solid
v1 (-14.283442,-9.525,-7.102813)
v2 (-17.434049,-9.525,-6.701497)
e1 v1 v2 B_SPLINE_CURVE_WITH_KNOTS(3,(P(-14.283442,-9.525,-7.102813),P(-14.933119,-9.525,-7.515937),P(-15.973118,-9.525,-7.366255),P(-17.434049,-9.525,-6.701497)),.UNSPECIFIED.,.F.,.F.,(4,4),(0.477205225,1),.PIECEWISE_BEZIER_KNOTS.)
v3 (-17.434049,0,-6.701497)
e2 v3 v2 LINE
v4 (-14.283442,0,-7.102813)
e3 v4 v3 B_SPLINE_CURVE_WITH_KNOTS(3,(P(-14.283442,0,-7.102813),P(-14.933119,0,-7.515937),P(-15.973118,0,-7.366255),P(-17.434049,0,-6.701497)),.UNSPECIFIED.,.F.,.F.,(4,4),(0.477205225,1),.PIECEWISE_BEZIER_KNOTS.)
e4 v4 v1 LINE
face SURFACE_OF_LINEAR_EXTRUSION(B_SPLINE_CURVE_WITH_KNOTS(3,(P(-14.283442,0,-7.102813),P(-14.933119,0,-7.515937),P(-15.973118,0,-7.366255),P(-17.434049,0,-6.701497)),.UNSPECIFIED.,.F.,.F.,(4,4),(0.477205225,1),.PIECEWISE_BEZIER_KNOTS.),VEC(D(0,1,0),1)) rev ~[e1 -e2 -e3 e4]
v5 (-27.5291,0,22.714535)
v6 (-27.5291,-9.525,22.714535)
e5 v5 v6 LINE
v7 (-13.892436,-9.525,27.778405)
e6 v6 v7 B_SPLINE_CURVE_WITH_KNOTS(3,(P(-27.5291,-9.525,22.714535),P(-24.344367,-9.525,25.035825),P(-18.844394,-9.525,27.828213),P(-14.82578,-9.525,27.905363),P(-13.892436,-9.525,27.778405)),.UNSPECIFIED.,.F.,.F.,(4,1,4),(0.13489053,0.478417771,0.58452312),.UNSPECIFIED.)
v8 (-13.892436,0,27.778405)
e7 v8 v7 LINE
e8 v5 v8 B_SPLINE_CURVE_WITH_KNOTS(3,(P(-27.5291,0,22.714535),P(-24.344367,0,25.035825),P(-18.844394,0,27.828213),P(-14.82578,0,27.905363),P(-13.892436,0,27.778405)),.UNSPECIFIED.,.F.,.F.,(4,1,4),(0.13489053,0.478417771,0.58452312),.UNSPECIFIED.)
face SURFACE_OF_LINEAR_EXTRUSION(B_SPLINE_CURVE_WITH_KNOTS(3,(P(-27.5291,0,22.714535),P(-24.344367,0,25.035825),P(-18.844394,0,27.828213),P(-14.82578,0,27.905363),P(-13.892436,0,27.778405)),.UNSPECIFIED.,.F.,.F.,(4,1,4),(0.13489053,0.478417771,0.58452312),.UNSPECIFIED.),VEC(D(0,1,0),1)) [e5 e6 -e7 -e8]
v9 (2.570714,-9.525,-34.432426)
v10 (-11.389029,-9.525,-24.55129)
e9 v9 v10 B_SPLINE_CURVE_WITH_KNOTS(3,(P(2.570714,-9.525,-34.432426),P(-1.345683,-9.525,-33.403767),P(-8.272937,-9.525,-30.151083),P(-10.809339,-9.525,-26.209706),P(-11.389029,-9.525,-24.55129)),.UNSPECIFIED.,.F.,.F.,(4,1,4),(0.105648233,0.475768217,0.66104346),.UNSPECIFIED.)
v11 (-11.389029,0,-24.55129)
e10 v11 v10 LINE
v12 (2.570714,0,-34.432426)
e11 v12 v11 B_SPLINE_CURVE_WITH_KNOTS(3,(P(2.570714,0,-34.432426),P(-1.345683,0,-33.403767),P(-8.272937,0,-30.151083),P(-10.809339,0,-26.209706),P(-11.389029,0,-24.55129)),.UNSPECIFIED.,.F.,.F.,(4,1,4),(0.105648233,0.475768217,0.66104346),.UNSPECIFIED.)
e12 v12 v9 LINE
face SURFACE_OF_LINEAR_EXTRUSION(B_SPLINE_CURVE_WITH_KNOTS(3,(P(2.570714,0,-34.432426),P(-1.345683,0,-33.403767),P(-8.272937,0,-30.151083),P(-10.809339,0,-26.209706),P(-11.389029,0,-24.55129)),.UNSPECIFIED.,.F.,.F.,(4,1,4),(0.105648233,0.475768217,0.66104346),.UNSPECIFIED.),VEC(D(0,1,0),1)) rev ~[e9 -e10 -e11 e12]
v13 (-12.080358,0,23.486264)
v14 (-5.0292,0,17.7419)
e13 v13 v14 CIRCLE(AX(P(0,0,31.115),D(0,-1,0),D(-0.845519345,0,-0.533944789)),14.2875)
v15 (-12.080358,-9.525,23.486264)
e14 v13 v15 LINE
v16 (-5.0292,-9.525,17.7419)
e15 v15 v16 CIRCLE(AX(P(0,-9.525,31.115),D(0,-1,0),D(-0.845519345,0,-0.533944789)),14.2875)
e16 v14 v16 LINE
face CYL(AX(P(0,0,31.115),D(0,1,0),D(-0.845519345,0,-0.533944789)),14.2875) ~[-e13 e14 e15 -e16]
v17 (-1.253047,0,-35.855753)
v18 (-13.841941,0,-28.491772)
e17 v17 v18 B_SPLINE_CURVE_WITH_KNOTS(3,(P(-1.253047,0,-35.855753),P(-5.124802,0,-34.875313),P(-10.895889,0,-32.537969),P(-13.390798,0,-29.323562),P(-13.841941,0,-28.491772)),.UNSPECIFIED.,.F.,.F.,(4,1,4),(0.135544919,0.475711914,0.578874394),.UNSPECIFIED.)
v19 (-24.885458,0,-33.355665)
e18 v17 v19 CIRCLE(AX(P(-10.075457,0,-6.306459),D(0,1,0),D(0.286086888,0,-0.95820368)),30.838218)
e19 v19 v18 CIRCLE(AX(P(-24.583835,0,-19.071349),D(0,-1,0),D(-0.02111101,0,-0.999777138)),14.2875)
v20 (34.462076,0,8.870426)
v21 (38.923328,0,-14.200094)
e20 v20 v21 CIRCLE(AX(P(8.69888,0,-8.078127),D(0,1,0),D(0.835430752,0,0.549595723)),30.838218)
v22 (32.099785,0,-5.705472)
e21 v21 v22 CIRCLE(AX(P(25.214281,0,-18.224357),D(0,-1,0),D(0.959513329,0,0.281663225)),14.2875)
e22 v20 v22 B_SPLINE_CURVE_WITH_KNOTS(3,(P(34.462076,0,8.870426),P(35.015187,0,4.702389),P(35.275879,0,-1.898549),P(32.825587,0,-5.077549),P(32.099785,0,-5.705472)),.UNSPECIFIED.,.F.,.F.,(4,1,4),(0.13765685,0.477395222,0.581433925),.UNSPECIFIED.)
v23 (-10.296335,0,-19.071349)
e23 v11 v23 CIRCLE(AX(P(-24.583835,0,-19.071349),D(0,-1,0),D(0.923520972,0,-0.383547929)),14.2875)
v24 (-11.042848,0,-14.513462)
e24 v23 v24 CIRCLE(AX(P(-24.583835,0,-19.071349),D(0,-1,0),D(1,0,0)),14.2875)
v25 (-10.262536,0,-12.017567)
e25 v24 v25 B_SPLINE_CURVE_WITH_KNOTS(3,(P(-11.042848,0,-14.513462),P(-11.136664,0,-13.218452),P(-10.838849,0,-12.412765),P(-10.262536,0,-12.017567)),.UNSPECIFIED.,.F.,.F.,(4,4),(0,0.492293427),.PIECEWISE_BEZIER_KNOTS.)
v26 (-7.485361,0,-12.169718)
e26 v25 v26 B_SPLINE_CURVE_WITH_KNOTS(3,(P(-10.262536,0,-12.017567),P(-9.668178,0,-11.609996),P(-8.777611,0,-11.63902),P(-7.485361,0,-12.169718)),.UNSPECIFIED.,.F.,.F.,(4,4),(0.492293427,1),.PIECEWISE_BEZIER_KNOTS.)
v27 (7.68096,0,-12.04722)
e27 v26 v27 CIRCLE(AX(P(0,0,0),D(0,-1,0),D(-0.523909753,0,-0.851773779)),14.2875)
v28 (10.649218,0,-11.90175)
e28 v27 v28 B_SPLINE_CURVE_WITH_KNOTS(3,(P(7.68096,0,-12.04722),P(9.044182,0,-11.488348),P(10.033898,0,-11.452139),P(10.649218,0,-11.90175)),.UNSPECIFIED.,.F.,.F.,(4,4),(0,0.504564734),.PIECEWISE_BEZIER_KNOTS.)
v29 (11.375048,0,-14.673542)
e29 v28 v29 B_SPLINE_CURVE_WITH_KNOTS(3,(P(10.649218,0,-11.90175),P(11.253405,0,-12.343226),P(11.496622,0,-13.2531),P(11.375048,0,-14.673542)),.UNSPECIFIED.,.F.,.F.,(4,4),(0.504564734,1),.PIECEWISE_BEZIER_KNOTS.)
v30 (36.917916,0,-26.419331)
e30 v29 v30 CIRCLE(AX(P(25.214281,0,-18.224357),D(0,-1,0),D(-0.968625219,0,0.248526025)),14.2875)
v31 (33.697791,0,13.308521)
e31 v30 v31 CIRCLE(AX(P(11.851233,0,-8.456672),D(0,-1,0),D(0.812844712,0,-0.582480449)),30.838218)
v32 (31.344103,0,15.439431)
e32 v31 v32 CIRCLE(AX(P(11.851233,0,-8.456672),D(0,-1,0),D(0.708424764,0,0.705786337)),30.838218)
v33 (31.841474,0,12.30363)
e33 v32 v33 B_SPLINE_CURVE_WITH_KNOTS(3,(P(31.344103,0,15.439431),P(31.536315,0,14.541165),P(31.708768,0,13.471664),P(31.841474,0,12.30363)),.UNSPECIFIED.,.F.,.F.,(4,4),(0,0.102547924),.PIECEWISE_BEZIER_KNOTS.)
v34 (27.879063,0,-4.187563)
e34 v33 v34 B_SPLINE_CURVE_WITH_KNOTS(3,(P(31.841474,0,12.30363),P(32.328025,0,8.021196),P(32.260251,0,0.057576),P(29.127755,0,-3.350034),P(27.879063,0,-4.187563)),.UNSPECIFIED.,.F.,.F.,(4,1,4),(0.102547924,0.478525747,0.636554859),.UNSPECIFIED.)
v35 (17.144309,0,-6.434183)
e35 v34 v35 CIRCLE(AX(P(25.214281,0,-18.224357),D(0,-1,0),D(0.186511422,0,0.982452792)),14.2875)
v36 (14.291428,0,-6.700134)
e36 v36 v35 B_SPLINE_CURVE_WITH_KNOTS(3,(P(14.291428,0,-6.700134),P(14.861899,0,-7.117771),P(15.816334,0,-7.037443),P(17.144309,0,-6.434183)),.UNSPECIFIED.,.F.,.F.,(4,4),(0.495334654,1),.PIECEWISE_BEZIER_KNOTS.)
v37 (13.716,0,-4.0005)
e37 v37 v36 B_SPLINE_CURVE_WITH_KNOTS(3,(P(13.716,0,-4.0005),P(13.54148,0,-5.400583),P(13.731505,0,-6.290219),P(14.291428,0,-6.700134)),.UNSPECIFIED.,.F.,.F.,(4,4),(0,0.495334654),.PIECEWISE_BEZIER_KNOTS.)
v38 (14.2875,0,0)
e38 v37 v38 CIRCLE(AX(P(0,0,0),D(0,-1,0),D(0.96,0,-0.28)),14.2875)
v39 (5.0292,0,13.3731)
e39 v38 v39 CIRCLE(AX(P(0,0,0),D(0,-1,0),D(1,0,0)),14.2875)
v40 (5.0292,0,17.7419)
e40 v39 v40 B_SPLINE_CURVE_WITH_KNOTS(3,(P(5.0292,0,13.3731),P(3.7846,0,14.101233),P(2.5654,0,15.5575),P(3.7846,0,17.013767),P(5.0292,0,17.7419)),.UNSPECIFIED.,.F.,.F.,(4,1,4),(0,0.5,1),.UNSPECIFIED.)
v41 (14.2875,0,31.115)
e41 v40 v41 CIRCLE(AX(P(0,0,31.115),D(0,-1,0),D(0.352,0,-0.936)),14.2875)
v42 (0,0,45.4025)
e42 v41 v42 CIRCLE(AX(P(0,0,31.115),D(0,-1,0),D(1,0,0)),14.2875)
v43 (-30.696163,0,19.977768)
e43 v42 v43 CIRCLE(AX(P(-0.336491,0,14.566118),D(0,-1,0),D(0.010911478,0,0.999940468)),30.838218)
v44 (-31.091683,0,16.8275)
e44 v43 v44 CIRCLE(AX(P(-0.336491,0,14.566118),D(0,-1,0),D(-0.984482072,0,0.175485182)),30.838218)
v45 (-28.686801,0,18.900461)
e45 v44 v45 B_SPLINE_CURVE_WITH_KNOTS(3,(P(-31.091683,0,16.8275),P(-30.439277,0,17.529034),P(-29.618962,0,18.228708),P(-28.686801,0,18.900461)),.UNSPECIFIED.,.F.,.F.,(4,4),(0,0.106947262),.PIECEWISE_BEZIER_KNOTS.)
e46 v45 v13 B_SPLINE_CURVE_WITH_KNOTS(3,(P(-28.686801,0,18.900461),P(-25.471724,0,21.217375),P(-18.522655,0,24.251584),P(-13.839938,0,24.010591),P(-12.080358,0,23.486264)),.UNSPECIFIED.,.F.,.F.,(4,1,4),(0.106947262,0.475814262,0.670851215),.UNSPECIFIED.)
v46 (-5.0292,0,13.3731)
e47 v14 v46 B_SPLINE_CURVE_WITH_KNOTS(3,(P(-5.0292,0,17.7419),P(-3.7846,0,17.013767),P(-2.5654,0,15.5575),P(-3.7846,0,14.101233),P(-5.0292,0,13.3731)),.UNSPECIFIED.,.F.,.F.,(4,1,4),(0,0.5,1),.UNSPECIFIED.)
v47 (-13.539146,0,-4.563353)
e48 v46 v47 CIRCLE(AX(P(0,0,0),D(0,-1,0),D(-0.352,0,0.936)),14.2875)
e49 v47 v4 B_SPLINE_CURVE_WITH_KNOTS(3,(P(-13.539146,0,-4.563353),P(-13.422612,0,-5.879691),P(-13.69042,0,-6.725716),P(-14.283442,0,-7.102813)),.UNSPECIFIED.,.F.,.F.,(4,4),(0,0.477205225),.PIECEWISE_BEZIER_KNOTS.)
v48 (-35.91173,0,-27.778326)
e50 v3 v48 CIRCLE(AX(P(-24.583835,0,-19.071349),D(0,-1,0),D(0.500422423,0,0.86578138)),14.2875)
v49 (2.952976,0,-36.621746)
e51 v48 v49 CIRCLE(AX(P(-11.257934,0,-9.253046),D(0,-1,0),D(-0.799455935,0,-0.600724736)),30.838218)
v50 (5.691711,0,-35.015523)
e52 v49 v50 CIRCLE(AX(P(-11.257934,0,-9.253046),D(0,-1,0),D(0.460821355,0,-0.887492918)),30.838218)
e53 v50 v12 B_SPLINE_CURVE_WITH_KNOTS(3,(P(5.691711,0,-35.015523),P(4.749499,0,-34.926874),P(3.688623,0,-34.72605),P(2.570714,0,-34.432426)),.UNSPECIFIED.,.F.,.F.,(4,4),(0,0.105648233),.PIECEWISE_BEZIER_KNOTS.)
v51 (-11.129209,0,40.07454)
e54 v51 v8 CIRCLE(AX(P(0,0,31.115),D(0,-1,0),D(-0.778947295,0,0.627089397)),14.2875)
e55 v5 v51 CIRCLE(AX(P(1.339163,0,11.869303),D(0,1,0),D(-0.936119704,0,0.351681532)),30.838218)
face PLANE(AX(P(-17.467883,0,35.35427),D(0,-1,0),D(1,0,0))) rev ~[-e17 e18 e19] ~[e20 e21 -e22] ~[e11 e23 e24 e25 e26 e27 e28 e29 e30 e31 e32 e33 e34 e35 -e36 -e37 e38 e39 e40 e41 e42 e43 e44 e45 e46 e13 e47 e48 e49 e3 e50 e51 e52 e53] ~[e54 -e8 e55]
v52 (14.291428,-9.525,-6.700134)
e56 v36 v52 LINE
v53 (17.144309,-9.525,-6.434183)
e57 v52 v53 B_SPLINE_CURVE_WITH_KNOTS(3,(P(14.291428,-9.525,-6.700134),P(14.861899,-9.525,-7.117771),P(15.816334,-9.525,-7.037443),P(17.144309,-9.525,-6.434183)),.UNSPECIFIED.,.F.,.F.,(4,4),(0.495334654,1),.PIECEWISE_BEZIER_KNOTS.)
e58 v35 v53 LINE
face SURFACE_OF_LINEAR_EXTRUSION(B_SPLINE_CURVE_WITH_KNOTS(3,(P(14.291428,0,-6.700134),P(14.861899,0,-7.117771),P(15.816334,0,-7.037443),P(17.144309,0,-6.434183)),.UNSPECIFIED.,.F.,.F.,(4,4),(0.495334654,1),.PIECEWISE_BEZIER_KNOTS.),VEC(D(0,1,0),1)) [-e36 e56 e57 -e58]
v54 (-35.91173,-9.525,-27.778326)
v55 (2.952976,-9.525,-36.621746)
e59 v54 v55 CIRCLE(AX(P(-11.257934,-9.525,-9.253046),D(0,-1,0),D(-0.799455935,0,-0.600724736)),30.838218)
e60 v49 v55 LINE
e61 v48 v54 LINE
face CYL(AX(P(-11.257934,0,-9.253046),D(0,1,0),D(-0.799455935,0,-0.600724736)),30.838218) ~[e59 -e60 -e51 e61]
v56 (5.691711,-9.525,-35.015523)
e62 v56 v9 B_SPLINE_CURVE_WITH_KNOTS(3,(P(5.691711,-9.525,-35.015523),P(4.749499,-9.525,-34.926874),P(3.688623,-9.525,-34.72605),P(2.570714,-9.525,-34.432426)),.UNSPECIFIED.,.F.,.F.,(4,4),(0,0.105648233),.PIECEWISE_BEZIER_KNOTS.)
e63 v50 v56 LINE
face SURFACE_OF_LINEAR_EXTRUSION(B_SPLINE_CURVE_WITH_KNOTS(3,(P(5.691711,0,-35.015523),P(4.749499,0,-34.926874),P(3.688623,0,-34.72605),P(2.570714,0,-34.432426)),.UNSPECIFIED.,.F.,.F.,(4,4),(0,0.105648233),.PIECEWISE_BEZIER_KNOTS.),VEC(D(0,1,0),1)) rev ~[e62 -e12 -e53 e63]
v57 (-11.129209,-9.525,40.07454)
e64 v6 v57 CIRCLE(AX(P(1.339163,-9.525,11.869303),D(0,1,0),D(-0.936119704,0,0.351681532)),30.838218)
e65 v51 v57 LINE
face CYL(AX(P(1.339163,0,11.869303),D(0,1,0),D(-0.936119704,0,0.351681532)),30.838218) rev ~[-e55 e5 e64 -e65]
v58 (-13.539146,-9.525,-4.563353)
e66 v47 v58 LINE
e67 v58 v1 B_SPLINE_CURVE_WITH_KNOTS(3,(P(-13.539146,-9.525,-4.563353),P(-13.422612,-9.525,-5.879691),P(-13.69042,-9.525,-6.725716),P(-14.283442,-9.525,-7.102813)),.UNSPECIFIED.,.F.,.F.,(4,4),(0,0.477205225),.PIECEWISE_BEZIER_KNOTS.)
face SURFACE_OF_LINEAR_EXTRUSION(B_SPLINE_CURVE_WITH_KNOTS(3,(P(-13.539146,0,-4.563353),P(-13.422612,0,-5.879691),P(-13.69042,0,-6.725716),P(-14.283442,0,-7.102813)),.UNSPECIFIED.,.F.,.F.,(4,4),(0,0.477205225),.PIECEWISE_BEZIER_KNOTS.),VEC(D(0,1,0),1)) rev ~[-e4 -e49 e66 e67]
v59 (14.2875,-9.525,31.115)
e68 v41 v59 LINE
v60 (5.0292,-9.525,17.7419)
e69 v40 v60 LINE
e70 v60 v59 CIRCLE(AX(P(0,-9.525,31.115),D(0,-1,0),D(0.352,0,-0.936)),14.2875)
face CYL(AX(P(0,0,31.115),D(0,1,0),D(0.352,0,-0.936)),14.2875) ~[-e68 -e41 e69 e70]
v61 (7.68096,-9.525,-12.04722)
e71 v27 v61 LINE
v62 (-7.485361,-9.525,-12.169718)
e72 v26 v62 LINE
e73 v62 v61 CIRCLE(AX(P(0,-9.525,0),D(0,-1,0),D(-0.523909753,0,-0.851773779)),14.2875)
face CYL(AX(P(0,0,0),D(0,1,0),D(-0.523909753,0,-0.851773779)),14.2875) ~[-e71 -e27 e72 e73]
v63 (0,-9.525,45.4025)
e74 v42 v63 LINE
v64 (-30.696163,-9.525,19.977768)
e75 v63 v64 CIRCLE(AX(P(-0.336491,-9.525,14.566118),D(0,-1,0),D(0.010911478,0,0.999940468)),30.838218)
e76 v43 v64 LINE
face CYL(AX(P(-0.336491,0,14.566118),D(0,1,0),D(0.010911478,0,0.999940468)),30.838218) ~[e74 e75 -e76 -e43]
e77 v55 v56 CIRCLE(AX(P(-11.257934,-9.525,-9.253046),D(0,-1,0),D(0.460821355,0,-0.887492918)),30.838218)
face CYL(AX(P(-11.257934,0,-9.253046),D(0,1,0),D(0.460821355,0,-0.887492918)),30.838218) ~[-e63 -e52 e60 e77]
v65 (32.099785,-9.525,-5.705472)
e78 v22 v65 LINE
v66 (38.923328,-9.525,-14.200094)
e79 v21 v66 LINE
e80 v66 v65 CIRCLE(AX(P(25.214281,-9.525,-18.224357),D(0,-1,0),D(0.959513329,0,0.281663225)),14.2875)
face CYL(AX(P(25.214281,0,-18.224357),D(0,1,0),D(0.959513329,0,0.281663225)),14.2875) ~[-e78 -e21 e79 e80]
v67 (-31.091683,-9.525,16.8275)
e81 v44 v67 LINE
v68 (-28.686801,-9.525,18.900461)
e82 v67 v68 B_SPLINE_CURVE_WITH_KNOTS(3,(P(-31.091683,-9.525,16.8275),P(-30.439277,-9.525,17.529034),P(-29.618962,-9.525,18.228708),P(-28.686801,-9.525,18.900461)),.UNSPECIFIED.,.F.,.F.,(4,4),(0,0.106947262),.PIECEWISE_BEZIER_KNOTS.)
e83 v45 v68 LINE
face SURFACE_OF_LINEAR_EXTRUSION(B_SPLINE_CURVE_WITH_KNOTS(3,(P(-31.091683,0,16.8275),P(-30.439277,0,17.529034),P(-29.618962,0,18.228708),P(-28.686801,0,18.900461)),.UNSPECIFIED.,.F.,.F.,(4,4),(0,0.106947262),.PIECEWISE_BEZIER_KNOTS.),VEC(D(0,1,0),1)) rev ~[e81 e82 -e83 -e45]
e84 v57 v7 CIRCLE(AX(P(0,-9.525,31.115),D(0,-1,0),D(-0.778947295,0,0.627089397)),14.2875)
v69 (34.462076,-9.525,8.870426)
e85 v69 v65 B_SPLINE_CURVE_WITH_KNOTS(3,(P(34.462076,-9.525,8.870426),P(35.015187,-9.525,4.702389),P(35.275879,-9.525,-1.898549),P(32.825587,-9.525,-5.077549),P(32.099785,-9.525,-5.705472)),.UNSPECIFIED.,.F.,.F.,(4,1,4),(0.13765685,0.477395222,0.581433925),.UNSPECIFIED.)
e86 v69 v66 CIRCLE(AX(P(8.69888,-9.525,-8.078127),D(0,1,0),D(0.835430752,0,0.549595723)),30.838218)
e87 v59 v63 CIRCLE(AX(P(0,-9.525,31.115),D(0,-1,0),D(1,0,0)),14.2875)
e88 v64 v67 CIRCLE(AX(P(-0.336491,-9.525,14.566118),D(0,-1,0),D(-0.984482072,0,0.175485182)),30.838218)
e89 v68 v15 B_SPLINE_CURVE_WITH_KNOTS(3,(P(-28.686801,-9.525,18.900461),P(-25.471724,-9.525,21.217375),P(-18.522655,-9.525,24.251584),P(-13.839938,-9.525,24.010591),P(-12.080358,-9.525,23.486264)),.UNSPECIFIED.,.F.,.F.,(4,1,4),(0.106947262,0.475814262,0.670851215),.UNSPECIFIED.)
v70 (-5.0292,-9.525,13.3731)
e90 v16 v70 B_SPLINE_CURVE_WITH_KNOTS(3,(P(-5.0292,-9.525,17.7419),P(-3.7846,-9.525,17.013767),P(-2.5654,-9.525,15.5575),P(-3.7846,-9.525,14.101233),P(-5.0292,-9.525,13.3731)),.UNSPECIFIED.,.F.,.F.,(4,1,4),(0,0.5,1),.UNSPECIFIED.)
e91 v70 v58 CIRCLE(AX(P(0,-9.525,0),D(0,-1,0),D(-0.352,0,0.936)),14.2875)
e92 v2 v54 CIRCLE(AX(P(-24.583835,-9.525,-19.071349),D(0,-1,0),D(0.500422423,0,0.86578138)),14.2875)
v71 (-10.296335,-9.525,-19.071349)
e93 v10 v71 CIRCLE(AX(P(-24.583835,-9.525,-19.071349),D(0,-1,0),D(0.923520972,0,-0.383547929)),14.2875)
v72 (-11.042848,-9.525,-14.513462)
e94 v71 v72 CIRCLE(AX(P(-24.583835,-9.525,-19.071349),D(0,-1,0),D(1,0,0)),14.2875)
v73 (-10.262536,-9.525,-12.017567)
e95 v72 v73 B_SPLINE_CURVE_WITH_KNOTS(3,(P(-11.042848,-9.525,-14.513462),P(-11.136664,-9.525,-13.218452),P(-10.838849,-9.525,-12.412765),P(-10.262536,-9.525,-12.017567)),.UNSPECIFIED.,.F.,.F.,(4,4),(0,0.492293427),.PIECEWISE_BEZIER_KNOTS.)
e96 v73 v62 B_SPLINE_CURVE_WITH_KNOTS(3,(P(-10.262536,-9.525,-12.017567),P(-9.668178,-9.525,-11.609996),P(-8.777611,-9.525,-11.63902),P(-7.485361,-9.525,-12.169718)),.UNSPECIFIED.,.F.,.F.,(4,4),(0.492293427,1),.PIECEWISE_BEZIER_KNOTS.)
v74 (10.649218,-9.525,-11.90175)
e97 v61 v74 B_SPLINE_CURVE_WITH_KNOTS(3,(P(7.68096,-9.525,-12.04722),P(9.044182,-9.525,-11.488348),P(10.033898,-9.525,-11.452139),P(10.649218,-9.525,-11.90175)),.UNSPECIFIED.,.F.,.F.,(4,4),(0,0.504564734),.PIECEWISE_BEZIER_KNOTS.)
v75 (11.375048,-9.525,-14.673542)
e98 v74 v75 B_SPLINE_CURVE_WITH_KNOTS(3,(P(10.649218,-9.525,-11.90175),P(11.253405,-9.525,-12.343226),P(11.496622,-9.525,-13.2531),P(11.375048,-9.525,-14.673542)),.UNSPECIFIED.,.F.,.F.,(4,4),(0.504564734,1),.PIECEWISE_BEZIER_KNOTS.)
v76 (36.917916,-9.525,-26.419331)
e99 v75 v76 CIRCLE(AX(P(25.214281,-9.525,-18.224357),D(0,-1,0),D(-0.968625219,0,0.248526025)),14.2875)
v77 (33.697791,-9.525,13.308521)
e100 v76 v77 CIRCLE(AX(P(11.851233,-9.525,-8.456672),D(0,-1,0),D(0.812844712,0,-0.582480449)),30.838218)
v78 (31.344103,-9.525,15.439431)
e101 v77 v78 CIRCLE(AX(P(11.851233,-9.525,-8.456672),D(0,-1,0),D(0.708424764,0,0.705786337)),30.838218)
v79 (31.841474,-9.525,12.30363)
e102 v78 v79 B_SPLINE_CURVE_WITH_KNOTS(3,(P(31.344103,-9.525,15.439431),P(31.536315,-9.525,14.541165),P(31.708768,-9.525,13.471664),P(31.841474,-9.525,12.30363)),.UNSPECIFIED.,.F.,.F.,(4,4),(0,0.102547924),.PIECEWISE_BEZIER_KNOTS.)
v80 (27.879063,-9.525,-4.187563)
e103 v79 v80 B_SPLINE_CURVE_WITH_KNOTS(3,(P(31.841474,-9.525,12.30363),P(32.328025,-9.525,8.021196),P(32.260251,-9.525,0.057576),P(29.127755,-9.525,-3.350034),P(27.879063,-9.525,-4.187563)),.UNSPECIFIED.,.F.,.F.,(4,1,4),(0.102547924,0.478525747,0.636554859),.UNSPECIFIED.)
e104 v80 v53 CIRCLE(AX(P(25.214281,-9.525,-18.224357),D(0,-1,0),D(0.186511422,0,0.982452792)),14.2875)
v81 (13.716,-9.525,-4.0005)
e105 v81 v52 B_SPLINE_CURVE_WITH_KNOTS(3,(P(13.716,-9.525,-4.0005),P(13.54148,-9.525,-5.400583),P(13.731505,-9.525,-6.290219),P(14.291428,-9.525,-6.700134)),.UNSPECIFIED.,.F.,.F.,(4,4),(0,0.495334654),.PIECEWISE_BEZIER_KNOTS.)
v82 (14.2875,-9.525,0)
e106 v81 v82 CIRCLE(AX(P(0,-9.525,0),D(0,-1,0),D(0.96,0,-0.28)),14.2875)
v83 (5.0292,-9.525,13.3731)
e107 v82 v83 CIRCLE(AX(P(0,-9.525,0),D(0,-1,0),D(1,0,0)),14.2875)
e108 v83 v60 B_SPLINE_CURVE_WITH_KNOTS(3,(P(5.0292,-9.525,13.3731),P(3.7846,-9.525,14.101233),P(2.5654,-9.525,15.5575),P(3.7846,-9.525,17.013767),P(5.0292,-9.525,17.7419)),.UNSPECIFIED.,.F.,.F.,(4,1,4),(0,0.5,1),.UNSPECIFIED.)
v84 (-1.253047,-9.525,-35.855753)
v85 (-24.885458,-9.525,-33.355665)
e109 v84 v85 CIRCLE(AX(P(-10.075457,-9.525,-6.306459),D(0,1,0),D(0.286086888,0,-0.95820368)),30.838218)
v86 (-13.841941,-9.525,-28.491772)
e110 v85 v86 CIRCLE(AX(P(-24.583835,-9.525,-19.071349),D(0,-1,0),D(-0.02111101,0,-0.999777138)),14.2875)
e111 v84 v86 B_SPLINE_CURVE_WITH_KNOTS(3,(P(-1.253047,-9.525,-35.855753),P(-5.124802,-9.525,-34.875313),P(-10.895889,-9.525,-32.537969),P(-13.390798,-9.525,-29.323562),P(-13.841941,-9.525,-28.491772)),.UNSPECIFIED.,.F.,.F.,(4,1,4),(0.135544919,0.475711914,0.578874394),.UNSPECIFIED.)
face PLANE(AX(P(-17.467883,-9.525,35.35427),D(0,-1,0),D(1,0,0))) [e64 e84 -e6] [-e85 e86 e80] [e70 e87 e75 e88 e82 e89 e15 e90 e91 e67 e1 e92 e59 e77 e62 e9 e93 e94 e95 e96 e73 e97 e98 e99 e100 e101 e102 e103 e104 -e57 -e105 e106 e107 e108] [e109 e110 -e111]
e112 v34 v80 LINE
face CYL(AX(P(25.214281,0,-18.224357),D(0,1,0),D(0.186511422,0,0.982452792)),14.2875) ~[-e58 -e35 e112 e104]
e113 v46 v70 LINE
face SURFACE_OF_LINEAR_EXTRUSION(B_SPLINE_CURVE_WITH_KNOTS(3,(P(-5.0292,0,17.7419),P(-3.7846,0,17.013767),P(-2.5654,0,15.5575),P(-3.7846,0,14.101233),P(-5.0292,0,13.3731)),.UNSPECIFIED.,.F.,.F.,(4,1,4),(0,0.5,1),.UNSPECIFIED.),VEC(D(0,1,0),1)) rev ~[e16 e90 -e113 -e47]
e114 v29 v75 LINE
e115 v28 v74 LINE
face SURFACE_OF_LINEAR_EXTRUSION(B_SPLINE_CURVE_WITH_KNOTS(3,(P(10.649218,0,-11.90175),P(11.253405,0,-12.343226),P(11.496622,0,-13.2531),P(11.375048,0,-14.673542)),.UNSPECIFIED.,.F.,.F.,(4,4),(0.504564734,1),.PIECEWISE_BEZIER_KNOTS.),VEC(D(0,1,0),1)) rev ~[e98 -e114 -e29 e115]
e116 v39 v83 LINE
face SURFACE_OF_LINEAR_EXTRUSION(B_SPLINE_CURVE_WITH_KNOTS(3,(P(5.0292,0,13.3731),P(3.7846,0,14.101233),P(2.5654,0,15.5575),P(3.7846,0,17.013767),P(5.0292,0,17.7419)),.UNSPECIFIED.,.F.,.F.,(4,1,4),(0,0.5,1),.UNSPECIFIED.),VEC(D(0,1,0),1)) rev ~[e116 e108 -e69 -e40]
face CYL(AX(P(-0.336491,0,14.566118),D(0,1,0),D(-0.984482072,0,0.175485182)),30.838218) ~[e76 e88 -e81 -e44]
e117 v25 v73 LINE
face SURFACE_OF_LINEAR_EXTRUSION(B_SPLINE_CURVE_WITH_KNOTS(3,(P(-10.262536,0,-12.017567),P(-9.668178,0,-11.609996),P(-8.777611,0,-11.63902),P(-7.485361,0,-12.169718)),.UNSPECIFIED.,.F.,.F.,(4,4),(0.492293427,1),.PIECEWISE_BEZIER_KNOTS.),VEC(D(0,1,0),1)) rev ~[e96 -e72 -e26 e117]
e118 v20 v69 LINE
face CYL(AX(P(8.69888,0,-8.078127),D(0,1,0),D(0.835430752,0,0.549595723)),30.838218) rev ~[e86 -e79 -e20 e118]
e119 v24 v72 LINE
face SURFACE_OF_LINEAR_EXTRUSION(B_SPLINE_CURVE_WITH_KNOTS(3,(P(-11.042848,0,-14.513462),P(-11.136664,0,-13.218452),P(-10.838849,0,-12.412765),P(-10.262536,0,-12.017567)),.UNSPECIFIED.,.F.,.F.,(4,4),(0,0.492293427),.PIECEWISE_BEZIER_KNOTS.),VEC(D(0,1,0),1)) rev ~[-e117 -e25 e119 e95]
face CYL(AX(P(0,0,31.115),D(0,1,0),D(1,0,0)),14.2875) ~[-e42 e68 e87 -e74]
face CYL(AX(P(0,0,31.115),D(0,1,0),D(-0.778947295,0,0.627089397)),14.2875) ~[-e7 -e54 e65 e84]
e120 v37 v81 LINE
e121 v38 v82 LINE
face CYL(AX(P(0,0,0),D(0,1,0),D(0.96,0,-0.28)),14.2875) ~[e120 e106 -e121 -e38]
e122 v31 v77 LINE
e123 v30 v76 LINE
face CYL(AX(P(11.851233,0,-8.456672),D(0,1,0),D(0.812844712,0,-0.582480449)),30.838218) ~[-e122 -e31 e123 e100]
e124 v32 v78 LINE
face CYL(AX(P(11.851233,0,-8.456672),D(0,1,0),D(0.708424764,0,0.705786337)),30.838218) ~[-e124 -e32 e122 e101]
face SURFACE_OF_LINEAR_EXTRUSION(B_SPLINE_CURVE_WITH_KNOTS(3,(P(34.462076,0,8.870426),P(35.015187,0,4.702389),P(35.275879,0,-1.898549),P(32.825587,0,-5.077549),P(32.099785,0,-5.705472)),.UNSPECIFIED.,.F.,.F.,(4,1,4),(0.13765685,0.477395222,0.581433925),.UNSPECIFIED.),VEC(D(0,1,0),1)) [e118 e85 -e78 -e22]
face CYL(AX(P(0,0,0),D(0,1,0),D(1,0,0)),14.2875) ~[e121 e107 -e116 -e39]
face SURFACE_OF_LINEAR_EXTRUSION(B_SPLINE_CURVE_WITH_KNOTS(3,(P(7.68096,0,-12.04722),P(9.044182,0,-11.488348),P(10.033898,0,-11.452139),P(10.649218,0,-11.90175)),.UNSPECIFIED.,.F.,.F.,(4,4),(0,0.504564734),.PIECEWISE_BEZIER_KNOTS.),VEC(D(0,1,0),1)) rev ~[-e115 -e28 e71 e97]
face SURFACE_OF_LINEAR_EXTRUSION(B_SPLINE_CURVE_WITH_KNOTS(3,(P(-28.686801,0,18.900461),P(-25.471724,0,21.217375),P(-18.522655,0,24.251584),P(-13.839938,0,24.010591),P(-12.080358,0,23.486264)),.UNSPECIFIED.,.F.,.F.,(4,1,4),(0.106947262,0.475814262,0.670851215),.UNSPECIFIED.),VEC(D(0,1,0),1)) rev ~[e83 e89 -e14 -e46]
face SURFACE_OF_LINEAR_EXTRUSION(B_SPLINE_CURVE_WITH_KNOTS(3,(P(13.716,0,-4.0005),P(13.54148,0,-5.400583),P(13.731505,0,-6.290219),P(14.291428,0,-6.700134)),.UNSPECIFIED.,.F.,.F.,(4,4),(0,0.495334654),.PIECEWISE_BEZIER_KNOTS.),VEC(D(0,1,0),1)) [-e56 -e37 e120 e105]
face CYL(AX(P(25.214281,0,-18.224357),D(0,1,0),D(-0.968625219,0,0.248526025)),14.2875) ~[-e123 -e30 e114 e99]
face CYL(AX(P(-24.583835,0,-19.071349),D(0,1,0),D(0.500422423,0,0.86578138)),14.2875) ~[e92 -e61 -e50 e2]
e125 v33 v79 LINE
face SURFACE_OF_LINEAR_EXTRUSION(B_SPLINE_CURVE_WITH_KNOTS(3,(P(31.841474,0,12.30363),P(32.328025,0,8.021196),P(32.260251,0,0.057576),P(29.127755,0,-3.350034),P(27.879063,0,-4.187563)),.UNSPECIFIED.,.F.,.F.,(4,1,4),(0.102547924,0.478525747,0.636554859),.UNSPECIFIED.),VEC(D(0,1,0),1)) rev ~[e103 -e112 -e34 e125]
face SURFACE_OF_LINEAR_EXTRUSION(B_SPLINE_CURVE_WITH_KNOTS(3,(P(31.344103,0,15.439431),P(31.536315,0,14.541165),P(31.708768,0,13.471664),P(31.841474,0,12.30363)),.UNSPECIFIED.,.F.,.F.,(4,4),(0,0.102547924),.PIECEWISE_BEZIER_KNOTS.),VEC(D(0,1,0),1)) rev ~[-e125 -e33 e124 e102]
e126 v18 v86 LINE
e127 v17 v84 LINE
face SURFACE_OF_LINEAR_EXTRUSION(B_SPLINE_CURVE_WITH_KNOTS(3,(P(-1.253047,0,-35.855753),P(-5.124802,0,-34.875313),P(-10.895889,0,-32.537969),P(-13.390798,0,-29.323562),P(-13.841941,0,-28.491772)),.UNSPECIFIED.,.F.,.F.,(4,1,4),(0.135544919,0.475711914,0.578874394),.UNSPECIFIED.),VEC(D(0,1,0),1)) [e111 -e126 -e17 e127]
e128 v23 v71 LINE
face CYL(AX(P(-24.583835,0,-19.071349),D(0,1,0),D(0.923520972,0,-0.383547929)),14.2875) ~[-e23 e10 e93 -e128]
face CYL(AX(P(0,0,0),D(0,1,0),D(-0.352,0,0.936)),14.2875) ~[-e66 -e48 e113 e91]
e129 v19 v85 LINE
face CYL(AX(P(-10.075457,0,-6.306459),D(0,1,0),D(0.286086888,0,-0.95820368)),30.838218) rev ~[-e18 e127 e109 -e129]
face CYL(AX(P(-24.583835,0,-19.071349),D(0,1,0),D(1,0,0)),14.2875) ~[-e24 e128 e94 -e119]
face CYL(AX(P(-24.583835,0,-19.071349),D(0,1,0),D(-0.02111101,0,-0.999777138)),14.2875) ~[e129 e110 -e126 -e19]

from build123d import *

# Parameters (mm, degrees)
F1_DEPTH = 9.525


with BuildPart() as f1:
    # F0 (on Front) → F1 (new body)
    with BuildSketch(Plane.XZ):
        with BuildLine():
            ThreePointArc((-11.129209475, 40.07453976), (-6.1694096933, 44.0018553296), (0, 45.4025))
            ThreePointArc((0, 45.4025), (-20.0075890018, 38.315719416), (-30.6961632928, 19.977768158))
            add(Edge.make_bspline(
                [(-30.6961632928, 19.977768158), (-29.8732969424, 20.8625993593), (-28.7796279343, 21.8030494207), (-27.5291002849, 22.7145349079)],
                knots=[0, 0, 0, 0, 0.1348905301, 0.1348905301, 0.1348905301, 0.1348905301], degree=3))
            ThreePointArc((-27.5291002849, 22.7145349079), (-21.0778351337, 33.046504915), (-11.129209475, 40.07453976))
        make_face()
        with BuildLine():
            add(Edge.make_bspline(
                [(-28.6868006646, 18.9004611224), (-25.471724073, 21.217375219), (-18.5226553299, 24.2515843699), (-13.8399380373, 24.0105914656), (-12.0803576364, 23.4862638251)],
                knots=[0.1069472615, 0.1069472615, 0.1069472615, 0.1069472615, 0.4758142615, 0.6708512149, 0.6708512149, 0.6708512149, 0.6708512149], degree=3))
            ThreePointArc((-12.0803576364, 23.4862638251), (-13.1625273264, 25.5579746599), (-13.8924363743, 27.778404754))
            add(Edge.make_bspline(
                [(-27.5291002849, 22.7145349079), (-24.3443673609, 25.0358253187), (-18.8443936536, 27.8282133181), (-14.8257797974, 27.9053631578), (-13.8924363743, 27.778404754)],
                knots=[0.1348905301, 0.1348905301, 0.1348905301, 0.1348905301, 0.4784177706, 0.5845231195, 0.5845231195, 0.5845231195, 0.5845231195], degree=3))
            ThreePointArc((-27.5291002849, 22.7145349079), (-28.1696370718, 20.8262219835), (-28.6868006646, 18.9004611224))
        make_face()
        with BuildLine():
            add(Edge.make_bspline(
                [(-31.0916826129, 16.8275), (-30.4392772685, 17.5290338571), (-29.618962222, 18.2287078403), (-28.6868006646, 18.9004611224)],
                knots=[0, 0, 0, 0, 0.1069472615, 0.1069472615, 0.1069472615, 0.1069472615], degree=3))
            ThreePointArc((-28.6868006646, 18.9004611224), (-28.1696370718, 20.8262219835), (-27.5291002849, 22.7145349079))
            add(Edge.make_bspline(
                [(-30.6961632928, 19.977768158), (-29.8732969424, 20.8625993593), (-28.7796279343, 21.8030494207), (-27.5291002849, 22.7145349079)],
                knots=[0, 0, 0, 0, 0.1348905301, 0.1348905301, 0.1348905301, 0.1348905301], degree=3))
            ThreePointArc((-30.6961632928, 19.977768158), (-30.9344924851, 18.4077276244), (-31.0916826129, 16.8275))
        make_face()
        with BuildLine():
            Line((0, 17.7419), (5.0292, 17.7419))
            ThreePointArc((5.0292, 17.7419), (11.7470709381, 22.9824124275), (14.2875, 31.115))
            ThreePointArc((14.2875, 31.115), (10.1027881362, 41.2177881362), (0, 45.4025))
            ThreePointArc((0, 45.4025), (-6.1694096933, 44.0018553296), (-11.129209475, 40.07453976))
            ThreePointArc((-11.129209475, 40.07453976), (-13.9398502242, 34.2476078555), (-13.8924363743, 27.778404754))
            ThreePointArc((-13.8924363743, 27.778404754), (-13.1625273264, 25.5579746599), (-12.0803576364, 23.4862638251))
            add(Edge.make_bspline(
                [(-12.0803576364, 23.4862638251), (-9.3691650731, 22.6783705347), (-6.3256595121, 20.8235485627), (-1.4460519065, 17.7419)],
                knots=[0.6708512149, 0.6708512149, 0.6708512149, 0.6708512149, 0.9713675979, 0.9713675979, 0.9713675979, 0.9713675979], degree=3))
            Line((-1.4460519065, 17.7419), (0, 17.7419))
        make_face()
        with BuildLine():
            Line((0, 0), (0, 13.3731))
            Line((0, 13.3731), (-5.0292, 13.3731))
            ThreePointArc((-5.0292, 13.3731), (-12.9083286672, 6.1243536206), (-13.5391458418, -4.5633525092))
            Line((-13.5391458418, -4.5633525092), (-10.567475758, -8.1956244248))
            Line((-10.567475758, -8.1956244248), (0, 0))
        make_face()
        with BuildLine():
            Line((7.68096, -12.04722), (10.69848, -8.02386))
            Line((10.69848, -8.02386), (0, 0))
            Line((0, 0), (-10.567475758, -8.1956244248))
            Line((-10.567475758, -8.1956244248), (-7.4853605897, -12.1697178723))
            ThreePointArc((-7.4853605897, -12.1697178723), (0.1153959033, -14.2870339831), (7.68096, -12.04722))
        make_face()
        with BuildLine():
            ThreePointArc((13.716, -4.0005), (14.1439033907, -2.0205576272), (14.2875, 0))
            ThreePointArc((14.2875, 0), (11.7470709381, 8.1325875725), (5.0292, 13.3731))
            Line((5.0292, 13.3731), (0, 13.3731))
            Line((0, 13.3731), (0, 0))
            Line((0, 0), (10.69848, -8.02386))
            Line((10.69848, -8.02386), (13.716, -4.0005))
        make_face()
        with BuildLine():
            Line((-13.9676082789, -10.9385280006), (-17.4340494965, -6.7014973993))
            ThreePointArc((-17.4340494965, -6.7014973993), (-35.3273131475, -9.6527326912), (-35.9117299253, -27.7783259466))
            ThreePointArc((-35.9117299253, -27.7783259466), (-31.032718707, -31.8206450649), (-24.885458426, -33.3556647255))
            ThreePointArc((-24.885458426, -33.3556647255), (-18.8250004476, -32.1468405376), (-13.8419410266, -28.4917720524))
            ThreePointArc((-13.8419410266, -28.4917720524), (-12.4543976012, -26.6218063281), (-11.389028977, -24.5512899041))
            add(Edge.make_bspline(
                [(-11.389028977, -24.5512899041), (-12.3646530193, -21.76015904), (-12.5856012494, -17.9957568314), (-13.1111198001, -11.9854137449)],
                knots=[0.6610434599, 0.6610434599, 0.6610434599, 0.6610434599, 0.9728634598, 0.9728634598, 0.9728634598, 0.9728634598], degree=3))
            Line((-13.1111198001, -11.9854137449), (-13.9676082789, -10.9385280006))
        make_face()
        with BuildLine():
            ThreePointArc((-24.885458426, -33.3556647255), (-31.032718707, -31.8206450649), (-35.9117299253, -27.7783259466))
            ThreePointArc((-35.9117299253, -27.7783259466), (-18.1000815921, -39.3226431793), (2.9529758884, -36.6217456555))
            add(Edge.make_bspline(
                [(2.9529758884, -36.6217456555), (1.7441334307, -36.5080110042), (0.289714726, -36.2464243625), (-1.2530470809, -35.8557527174)],
                knots=[0, 0, 0, 0, 0.1355449187, 0.1355449187, 0.1355449187, 0.1355449187], degree=3))
            ThreePointArc((-1.2530470809, -35.8557527174), (-13.3197478248, -36.9735464074), (-24.885458426, -33.3556647255))
        make_face()
        with BuildLine():
            add(Edge.make_bspline(
                [(2.5707142816, -34.4324261726), (-1.3456831321, -33.4037669395), (-8.2729367844, -30.1510829264), (-10.8093388321, -26.2097064508), (-11.389028977, -24.5512899041)],
                knots=[0.1056482335, 0.1056482335, 0.1056482335, 0.1056482335, 0.4757682175, 0.6610434599, 0.6610434599, 0.6610434599, 0.6610434599], degree=3))
            ThreePointArc((-11.389028977, -24.5512899041), (-12.4543976012, -26.6218063281), (-13.8419410266, -28.4917720524))
            add(Edge.make_bspline(
                [(-1.2530470809, -35.8557527174), (-5.1248015795, -34.8753131625), (-10.8958886067, -32.5379694207), (-13.3907983481, -29.3235619339), (-13.8419410266, -28.4917720524)],
                knots=[0.1355449187, 0.1355449187, 0.1355449187, 0.1355449187, 0.4757119144, 0.578874394, 0.578874394, 0.578874394, 0.578874394], degree=3))
            ThreePointArc((-1.2530470809, -35.8557527174), (0.6823987023, -35.2073970019), (2.5707142816, -34.4324261726))
        make_face()
        with BuildLine():
            add(Edge.make_bspline(
                [(2.9529758884, -36.6217456555), (1.7441334307, -36.5080110042), (0.289714726, -36.2464243625), (-1.2530470809, -35.8557527174)],
                knots=[0, 0, 0, 0, 0.1355449187, 0.1355449187, 0.1355449187, 0.1355449187], degree=3))
            ThreePointArc((2.9529758884, -36.6217456555), (4.3430288168, -35.8539039157), (5.691711479, -35.0155226433))
            add(Edge.make_bspline(
                [(5.691711479, -35.0155226433), (4.7494993224, -34.9268740601), (3.6886233005, -34.7260499581), (2.5707142816, -34.4324261726)],
                knots=[0, 0, 0, 0, 0.1056482335, 0.1056482335, 0.1056482335, 0.1056482335], degree=3))
            ThreePointArc((2.5707142816, -34.4324261726), (0.6823987023, -35.2073970019), (-1.2530470809, -35.8557527174))
        make_face()
        with BuildLine():
            ThreePointArc((-10.2963348681, -19.0713488693), (-10.4841982585, -16.7620408074), (-11.0428480755, -14.5134619762))
            Line((-11.0428480755, -14.5134619762), (-13.1111198001, -11.9854137449))
            add(Edge.make_bspline(
                [(-11.389028977, -24.5512899041), (-12.3646530193, -21.76015904), (-12.5856012494, -17.9957568314), (-13.1111198001, -11.9854137449)],
                knots=[0.6610434599, 0.6610434599, 0.6610434599, 0.6610434599, 0.9728634598, 0.9728634598, 0.9728634598, 0.9728634598], degree=3))
            ThreePointArc((-11.389028977, -24.5512899041), (-10.5721710587, -21.8652589502), (-10.2963348681, -19.0713488693))
        make_face()
        with BuildLine():
            ThreePointArc((32.0997847077, -5.7054719377), (30.0493612315, -4.7798546786), (27.8790629668, -4.18756321))
            add(Edge.make_bspline(
                [(27.8790629668, -4.18756321), (25.2291990999, -5.9648942607), (21.1306497697, -6.9726602139), (15.0740755277, -9.3907834095)],
                knots=[0.6365548592, 0.6365548592, 0.6365548592, 0.6365548592, 0.9719102302, 0.9719102302, 0.9719102302, 0.9719102302], degree=3))
            Line((15.0740755277, -9.3907834095), (14.2596788218, -10.5538624417))
            Line((14.2596788218, -10.5538624417), (11.3750482081, -14.6735419029))
            ThreePointArc((11.3750482081, -14.6735419029), (19.2451031931, -31.2051730294), (36.9179158581, -26.4193308171))
            ThreePointArc((36.9179158581, -26.4193308171), (38.8405119591, -22.5206915931), (39.5017810253, -18.2243574827))
            ThreePointArc((39.5017810253, -18.2243574827), (39.3564283292, -16.1915451737), (38.9233277082, -14.2000941595))
            ThreePointArc((38.9233277082, -14.2000941595), (36.3531107601, -9.2767808058), (32.0997847077, -5.7054719377))
        make_face()
        with BuildLine():
            ThreePointArc((39.5017810253, -18.2243574827), (38.8405119591, -22.5206915931), (36.9179158581, -26.4193308171))
            ThreePointArc((36.9179158581, -26.4193308171), (42.5886466549, -5.9652630323), (33.6977907453, 13.3085211811))
            add(Edge.make_bspline(
                [(33.6977907453, 13.3085211811), (33.9558103868, 12.1027186731), (34.2379640164, 10.5592509332), (34.462076145, 8.8704255659)],
                knots=[0, 0, 0, 0, 0.1376568503, 0.1376568503, 0.1376568503, 0.1376568503], degree=3))
            ThreePointArc((34.462076145, 8.8704255659), (38.9762030058, -2.2232632841), (38.9233277082, -14.2000941595))
            ThreePointArc((38.9233277082, -14.2000941595), (39.3564283292, -16.1915451737), (39.5017810253, -18.2243574827))
        make_face()
        with BuildLine():
            add(Edge.make_bspline(
                [(31.8414742693, 12.3036304451), (32.3280250776, 8.0211958063), (32.2602508843, 0.0575755824), (29.1277551626, -3.3500336145), (27.8790629668, -4.18756321)],
                knots=[0.1025479244, 0.1025479244, 0.1025479244, 0.1025479244, 0.478525747, 0.6365548592, 0.6365548592, 0.6365548592, 0.6365548592], degree=3))
            ThreePointArc((27.8790629668, -4.18756321), (30.0493612315, -4.7798546786), (32.0997847077, -5.7054719377))
            add(Edge.make_bspline(
                [(34.462076145, 8.8704255659), (35.0151869373, 4.7023890447), (35.2758794407, -1.8985489034), (32.8255865271, -5.0775489081), (32.0997847077, -5.7054719377)],
                knots=[0.1376568503, 0.1376568503, 0.1376568503, 0.1376568503, 0.4773952215, 0.5814339254, 0.5814339254, 0.5814339254, 0.5814339254], degree=3))
            ThreePointArc((34.462076145, 8.8704255659), (33.211954226, 10.6329632919), (31.8414742693, 12.3036304451))
        make_face()
        with BuildLine():
            add(Edge.make_bspline(
                [(31.3441027058, 15.4394312244), (31.5363152882, 14.5411646712), (31.7087675709, 13.4716641889), (31.8414742693, 12.3036304451)],
                knots=[0, 0, 0, 0, 0.1025479244, 0.1025479244, 0.1025479244, 0.1025479244], degree=3))
            ThreePointArc((31.8414742693, 12.3036304451), (33.211954226, 10.6329632919), (34.462076145, 8.8704255659))
            add(Edge.make_bspline(
                [(33.6977907453, 13.3085211811), (33.9558103868, 12.1027186731), (34.2379640164, 10.5592509332), (34.462076145, 8.8704255659)],
                knots=[0, 0, 0, 0, 0.1376568503, 0.1376568503, 0.1376568503, 0.1376568503], degree=3))
            ThreePointArc((33.6977907453, 13.3085211811), (32.5483888414, 14.4042872804), (31.3441027058, 15.4394312244))
        make_face()
        with BuildLine():
            ThreePointArc((27.8790629668, -4.18756321), (22.2875347291, -4.2398370273), (17.1443094355, -6.4341829806))
            Line((17.1443094355, -6.4341829806), (15.0740755277, -9.3907834095))
            add(Edge.make_bspline(
                [(27.8790629668, -4.18756321), (25.2291990999, -5.9648942607), (21.1306497697, -6.9726602139), (15.0740755277, -9.3907834095)],
                knots=[0.6365548592, 0.6365548592, 0.6365548592, 0.6365548592, 0.9719102302, 0.9719102302, 0.9719102302, 0.9719102302], degree=3))
        make_face()
        with BuildLine():
            ThreePointArc((-13.255939811, -10.364371792), (-15.16521869, -8.3278705899), (-17.4340494965, -6.7014973993))
            Line((-17.4340494965, -6.7014973993), (-13.9676082789, -10.9385280006))
            Line((-13.9676082789, -10.9385280006), (-13.1111198001, -11.9854137449))
            add(Edge.make_bspline(
                [(-13.1111198001, -11.9854137449), (-13.156853734, -11.4623558379), (-13.2048943545, -10.9222881259), (-13.255939811, -10.364371792)],
                knots=[0.9728634598, 0.9728634598, 0.9728634598, 0.9728634598, 1, 1, 1, 1], degree=3))
        make_face()
        with BuildLine():
            Line((-13.1111198001, -11.9854137449), (-11.0428480755, -14.5134619762))
            ThreePointArc((-11.0428480755, -14.5134619762), (-11.9775246049, -12.3472431446), (-13.255939811, -10.364371792))
            add(Edge.make_bspline(
                [(-13.1111198001, -11.9854137449), (-13.156853734, -11.4623558379), (-13.2048943545, -10.9222881259), (-13.255939811, -10.364371792)],
                knots=[0.9728634598, 0.9728634598, 0.9728634598, 0.9728634598, 1, 1, 1, 1], degree=3))
        make_face()
        with BuildLine():
            Line((-7.4853605897, -12.1697178723), (-10.567475758, -8.1956244248))
            Line((-10.567475758, -8.1956244248), (-11.290038203, -8.7560090009))
            ThreePointArc((-11.290038203, -8.7560090009), (-11.0362642828, -9.0737823938), (-10.7735491675, -9.3842045259))
            ThreePointArc((-10.7735491675, -9.3842045259), (-9.2350808081, -10.9016484404), (-7.4853605897, -12.1697178723))
        make_face()
        with BuildLine():
            Line((-10.567475758, -8.1956244248), (-13.5391458418, -4.5633525092))
            ThreePointArc((-13.5391458418, -4.5633525092), (-12.5903410279, -6.7539595092), (-11.290038203, -8.7560090009))
            Line((-11.290038203, -8.7560090009), (-10.567475758, -8.1956244248))
        make_face()
        with BuildLine():
            ThreePointArc((-11.290038203, -8.7560090009), (-12.5903410279, -6.7539595092), (-13.5391458418, -4.5633525092))
            add(Edge.make_bspline(
                [(-13.5391458418, -4.5633525092), (-13.4226119292, -5.8796905186), (-13.6904197886, -6.7257157353), (-14.2834424959, -7.1028133864)],
                knots=[0, 0, 0, 0, 0.477205225, 0.477205225, 0.477205225, 0.477205225], degree=3))
            Line((-14.2834424959, -7.1028133864), (-11.290038203, -8.7560090009))
        make_face()
        with BuildLine():
            add(Edge.make_bspline(
                [(-10.2625355182, -12.0175674064), (-9.6681783354, -11.6099962054), (-8.7776105432, -11.6390201447), (-7.4853605897, -12.1697178723)],
                knots=[0.492293427, 0.492293427, 0.492293427, 0.492293427, 1, 1, 1, 1], degree=3))
            ThreePointArc((-7.4853605897, -12.1697178723), (-9.2350808081, -10.9016484404), (-10.7735491675, -9.3842045259))
            Line((-10.7735491675, -9.3842045259), (-10.2625355182, -12.0175674064))
        make_face()
        with BuildLine():
            add(Edge.make_bspline(
                [(-11.0428480755, -14.5134619762), (-11.1366637871, -13.2184522936), (-10.8388489834, -12.4127654086), (-10.2625355182, -12.0175674064)],
                knots=[0, 0, 0, 0, 0.492293427, 0.492293427, 0.492293427, 0.492293427], degree=3))
            Line((-10.2625355182, -12.0175674064), (-12.272989007, -9.5601903964))
            Line((-12.272989007, -9.5601903964), (-13.255939811, -10.364371792))
            ThreePointArc((-13.255939811, -10.364371792), (-11.9775246049, -12.3472431446), (-11.0428480755, -14.5134619762))
        make_face()
        with BuildLine():
            Line((-12.272989007, -9.5601903964), (-14.2834424959, -7.1028133864))
            add(Edge.make_bspline(
                [(-14.2834424959, -7.1028133864), (-14.9331193153, -7.5159368632), (-15.9731176237, -7.3662554535), (-17.4340494965, -6.7014973993)],
                knots=[0.477205225, 0.477205225, 0.477205225, 0.477205225, 1, 1, 1, 1], degree=3))
            ThreePointArc((-17.4340494965, -6.7014973993), (-15.16521869, -8.3278705899), (-13.255939811, -10.364371792))
            Line((-13.255939811, -10.364371792), (-12.272989007, -9.5601903964))
        make_face()
        Polygon((-12.272989007, -9.5601903964), (-11.290038203, -8.7560090009), (-14.2834424959, -7.1028133864), align=None)
        with BuildLine():
            ThreePointArc((-10.7735491675, -9.3842045259), (-11.0362642828, -9.0737823938), (-11.290038203, -8.7560090009))
            Line((-11.290038203, -8.7560090009), (-12.272989007, -9.5601903964))
            Line((-12.272989007, -9.5601903964), (-10.2625355182, -12.0175674064))
            Line((-10.2625355182, -12.0175674064), (-10.7735491675, -9.3842045259))
        make_face()
        with BuildLine():
            add(Edge.make_bspline(
                [(15.0740755277, -9.3907834095), (14.5667695735, -9.5933283212), (14.0457262352, -9.8057682139), (13.5106461925, -10.0293841483)],
                knots=[0.9719102302, 0.9719102302, 0.9719102302, 0.9719102302, 1, 1, 1, 1], degree=3))
            ThreePointArc((13.5106461925, -10.0293841483), (12.2334654785, -12.2551796505), (11.3750482081, -14.6735419029))
            Line((11.3750482081, -14.6735419029), (14.2596788218, -10.5538624417))
            Line((14.2596788218, -10.5538624417), (15.0740755277, -9.3907834095))
        make_face()
        with BuildLine():
            Line((15.0740755277, -9.3907834095), (17.1443094355, -6.4341829806))
            ThreePointArc((17.1443094355, -6.4341829806), (15.1653882705, -8.0679599593), (13.5106461925, -10.0293841483))
            add(Edge.make_bspline(
                [(15.0740755277, -9.3907834095), (14.5667695735, -9.5933283212), (14.0457262352, -9.8057682139), (13.5106461925, -10.0293841483)],
                knots=[0.9719102302, 0.9719102302, 0.9719102302, 0.9719102302, 1, 1, 1, 1], degree=3))
        make_face()
        with BuildLine():
            add(Edge.make_bspline(
                [(14.2914282817, -6.7001343335), (14.8618986093, -7.1177709077), (15.8163336521, -7.0374427595), (17.1443094355, -6.4341829806)],
                knots=[0.4953346539, 0.4953346539, 0.4953346539, 0.4953346539, 1, 1, 1, 1], degree=3))
            Line((14.2914282817, -6.7001343335), (12.4703230962, -9.3009420742))
            Line((12.4703230962, -9.3009420742), (13.5106461925, -10.0293841483))
            ThreePointArc((13.5106461925, -10.0293841483), (15.1653882705, -8.0679599593), (17.1443094355, -6.4341829806))
        make_face()
        with BuildLine():
            Line((14.2914282817, -6.7001343335), (11.8069089542, -8.0454681155))
            ThreePointArc((11.8069089542, -8.0454681155), (11.6214424702, -8.3111209329), (11.43, -8.5725))
            Line((11.43, -8.5725), (12.4703230962, -9.3009420742))
            Line((12.4703230962, -9.3009420742), (14.2914282817, -6.7001343335))
        make_face()
        with BuildLine():
            add(Edge.make_bspline(
                [(13.716, -4.0005), (13.5414801517, -5.4005831067), (13.731505306, -6.2902193879), (14.2914282817, -6.7001343335)],
                knots=[0, 0, 0, 0, 0.4953346539, 0.4953346539, 0.4953346539, 0.4953346539], degree=3))
            ThreePointArc((13.716, -4.0005), (12.9207260684, -6.0981549763), (11.8069089542, -8.0454681155))
            Line((11.8069089542, -8.0454681155), (14.2914282817, -6.7001343335))
        make_face()
        with BuildLine():
            ThreePointArc((11.8069089542, -8.0454681155), (12.9207260684, -6.0981549763), (13.716, -4.0005))
            Line((13.716, -4.0005), (10.69848, -8.02386))
            Line((10.69848, -8.02386), (11.43, -8.5725))
            ThreePointArc((11.43, -8.5725), (11.6214424702, -8.3111209329), (11.8069089542, -8.0454681155))
        make_face()
        with BuildLine():
            Line((11.43, -8.5725), (10.69848, -8.02386))
            Line((10.69848, -8.02386), (7.68096, -12.04722))
            ThreePointArc((7.68096, -12.04722), (9.7121376535, -10.478885363), (11.43, -8.5725))
        make_face()
        with BuildLine():
            Line((10.6492179108, -11.9017498148), (11.43, -8.5725))
            ThreePointArc((11.43, -8.5725), (9.7121376535, -10.478885363), (7.68096, -12.04722))
            add(Edge.make_bspline(
                [(7.68096, -12.04722), (9.0441819802, -11.4883481778), (10.0338975357, -11.4521388123), (10.6492179108, -11.9017498148)],
                knots=[0, 0, 0, 0, 0.5045647338, 0.5045647338, 0.5045647338, 0.5045647338], degree=3))
        make_face()
        Polygon((12.4703230962, -9.3009420742), (11.43, -8.5725), (10.6492179108, -11.9017498148), align=None)
        with BuildLine():
            Line((13.5106461925, -10.0293841483), (12.4703230962, -9.3009420742))
            Line((12.4703230962, -9.3009420742), (10.6492179108, -11.9017498148))
            add(Edge.make_bspline(
                [(10.6492179108, -11.9017498148), (11.2534048337, -12.3432256687), (11.4966224299, -13.2531003167), (11.3750482081, -14.6735419029)],
                knots=[0.5045647338, 0.5045647338, 0.5045647338, 0.5045647338, 1, 1, 1, 1], degree=3))
            ThreePointArc((11.3750482081, -14.6735419029), (12.2334654785, -12.2551796505), (13.5106461925, -10.0293841483))
        make_face()
        with BuildLine():
            ThreePointArc((-12.0803576364, 23.4862638251), (-9.0240605919, 20.0380425349), (-5.0292, 17.7419))
            Line((-5.0292, 17.7419), (-1.4460519065, 17.7419))
            add(Edge.make_bspline(
                [(-12.0803576364, 23.4862638251), (-9.3691650731, 22.6783705347), (-6.3256595121, 20.8235485627), (-1.4460519065, 17.7419)],
                knots=[0.6708512149, 0.6708512149, 0.6708512149, 0.6708512149, 0.9713675979, 0.9713675979, 0.9713675979, 0.9713675979], degree=3))
        make_face()
        with BuildLine():
            ThreePointArc((-5.0292, 17.7419), (-2.5558256983, 17.0579586594), (0, 16.8275))
            add(Edge.make_bspline(
                [(-1.4460519065, 17.7419), (-0.9811358651, 17.4482887168), (-0.4995521084, 17.1435405817), (0, 16.8275)],
                knots=[0.9713675979, 0.9713675979, 0.9713675979, 0.9713675979, 1, 1, 1, 1], degree=3))
            Line((-1.4460519065, 17.7419), (-5.0292, 17.7419))
        make_face()
        with BuildLine():
            Line((-3.175, 15.5575), (0, 15.5575))
            Line((0, 15.5575), (0, 16.8275))
            ThreePointArc((0, 16.8275), (-2.5558256983, 17.0579586594), (-5.0292, 17.7419))
            add(Edge.make_bspline(
                [(-5.0292, 17.7419), (-3.7846, 17.0137666667), (-3.175, 16.2856333333), (-3.175, 15.5575)],
                knots=[0, 0, 0, 0, 0.5, 0.5, 0.5, 0.5], degree=3))
        make_face()
        with BuildLine():
            ThreePointArc((0, 14.2875), (2.5558256983, 14.0570413406), (5.0292, 13.3731))
            add(Edge.make_bspline(
                [(5.0292, 13.3731), (3.7846, 14.1012333333), (3.175, 14.8293666667), (3.175, 15.5575)],
                knots=[0, 0, 0, 0, 0.5, 0.5, 0.5, 0.5], degree=3))
            Line((3.175, 15.5575), (0, 14.2875))
        make_face()
        with BuildLine():
            Line((0, 13.3731), (5.0292, 13.3731))
            ThreePointArc((5.0292, 13.3731), (2.5558256983, 14.0570413406), (0, 14.2875))
            Line((0, 14.2875), (0, 13.3731))
        make_face()
        with BuildLine():
            Line((0, 13.3731), (0, 14.2875))
            ThreePointArc((0, 14.2875), (-2.5558256983, 14.0570413406), (-5.0292, 13.3731))
            Line((-5.0292, 13.3731), (0, 13.3731))
        make_face()
        with BuildLine():
            ThreePointArc((-5.0292, 13.3731), (-2.5558256983, 14.0570413406), (0, 14.2875))
            Line((0, 14.2875), (-3.175, 15.5575))
            add(Edge.make_bspline(
                [(-3.175, 15.5575), (-3.175, 14.8293666667), (-3.7846, 14.1012333333), (-5.0292, 13.3731)],
                knots=[0.5, 0.5, 0.5, 0.5, 1, 1, 1, 1], degree=3))
        make_face()
        Polygon((-3.175, 15.5575), (0, 14.2875), (0, 15.5575), align=None)
        Polygon((0, 15.5575), (0, 14.2875), (3.175, 15.5575), align=None)
        with BuildLine():
            Line((0, 15.5575), (3.175, 15.5575))
            add(Edge.make_bspline(
                [(3.175, 15.5575), (3.175, 16.2856333333), (3.7846, 17.0137666667), (5.0292, 17.7419)],
                knots=[0.5, 0.5, 0.5, 0.5, 1, 1, 1, 1], degree=3))
            ThreePointArc((5.0292, 17.7419), (2.5558256983, 17.0579586594), (0, 16.8275))
            Line((0, 16.8275), (0, 15.5575))
        make_face()
        with BuildLine():
            ThreePointArc((0, 16.8275), (2.5558256983, 17.0579586594), (5.0292, 17.7419))
            Line((5.0292, 17.7419), (0, 17.7419))
            Line((0, 17.7419), (-1.4460519065, 17.7419))
            add(Edge.make_bspline(
                [(-1.4460519065, 17.7419), (-0.9811358651, 17.4482887168), (-0.4995521084, 17.1435405817), (0, 16.8275)],
                knots=[0.9713675979, 0.9713675979, 0.9713675979, 0.9713675979, 1, 1, 1, 1], degree=3))
        make_face()
    extrude(amount=F1_DEPTH)


solid = f1.part
